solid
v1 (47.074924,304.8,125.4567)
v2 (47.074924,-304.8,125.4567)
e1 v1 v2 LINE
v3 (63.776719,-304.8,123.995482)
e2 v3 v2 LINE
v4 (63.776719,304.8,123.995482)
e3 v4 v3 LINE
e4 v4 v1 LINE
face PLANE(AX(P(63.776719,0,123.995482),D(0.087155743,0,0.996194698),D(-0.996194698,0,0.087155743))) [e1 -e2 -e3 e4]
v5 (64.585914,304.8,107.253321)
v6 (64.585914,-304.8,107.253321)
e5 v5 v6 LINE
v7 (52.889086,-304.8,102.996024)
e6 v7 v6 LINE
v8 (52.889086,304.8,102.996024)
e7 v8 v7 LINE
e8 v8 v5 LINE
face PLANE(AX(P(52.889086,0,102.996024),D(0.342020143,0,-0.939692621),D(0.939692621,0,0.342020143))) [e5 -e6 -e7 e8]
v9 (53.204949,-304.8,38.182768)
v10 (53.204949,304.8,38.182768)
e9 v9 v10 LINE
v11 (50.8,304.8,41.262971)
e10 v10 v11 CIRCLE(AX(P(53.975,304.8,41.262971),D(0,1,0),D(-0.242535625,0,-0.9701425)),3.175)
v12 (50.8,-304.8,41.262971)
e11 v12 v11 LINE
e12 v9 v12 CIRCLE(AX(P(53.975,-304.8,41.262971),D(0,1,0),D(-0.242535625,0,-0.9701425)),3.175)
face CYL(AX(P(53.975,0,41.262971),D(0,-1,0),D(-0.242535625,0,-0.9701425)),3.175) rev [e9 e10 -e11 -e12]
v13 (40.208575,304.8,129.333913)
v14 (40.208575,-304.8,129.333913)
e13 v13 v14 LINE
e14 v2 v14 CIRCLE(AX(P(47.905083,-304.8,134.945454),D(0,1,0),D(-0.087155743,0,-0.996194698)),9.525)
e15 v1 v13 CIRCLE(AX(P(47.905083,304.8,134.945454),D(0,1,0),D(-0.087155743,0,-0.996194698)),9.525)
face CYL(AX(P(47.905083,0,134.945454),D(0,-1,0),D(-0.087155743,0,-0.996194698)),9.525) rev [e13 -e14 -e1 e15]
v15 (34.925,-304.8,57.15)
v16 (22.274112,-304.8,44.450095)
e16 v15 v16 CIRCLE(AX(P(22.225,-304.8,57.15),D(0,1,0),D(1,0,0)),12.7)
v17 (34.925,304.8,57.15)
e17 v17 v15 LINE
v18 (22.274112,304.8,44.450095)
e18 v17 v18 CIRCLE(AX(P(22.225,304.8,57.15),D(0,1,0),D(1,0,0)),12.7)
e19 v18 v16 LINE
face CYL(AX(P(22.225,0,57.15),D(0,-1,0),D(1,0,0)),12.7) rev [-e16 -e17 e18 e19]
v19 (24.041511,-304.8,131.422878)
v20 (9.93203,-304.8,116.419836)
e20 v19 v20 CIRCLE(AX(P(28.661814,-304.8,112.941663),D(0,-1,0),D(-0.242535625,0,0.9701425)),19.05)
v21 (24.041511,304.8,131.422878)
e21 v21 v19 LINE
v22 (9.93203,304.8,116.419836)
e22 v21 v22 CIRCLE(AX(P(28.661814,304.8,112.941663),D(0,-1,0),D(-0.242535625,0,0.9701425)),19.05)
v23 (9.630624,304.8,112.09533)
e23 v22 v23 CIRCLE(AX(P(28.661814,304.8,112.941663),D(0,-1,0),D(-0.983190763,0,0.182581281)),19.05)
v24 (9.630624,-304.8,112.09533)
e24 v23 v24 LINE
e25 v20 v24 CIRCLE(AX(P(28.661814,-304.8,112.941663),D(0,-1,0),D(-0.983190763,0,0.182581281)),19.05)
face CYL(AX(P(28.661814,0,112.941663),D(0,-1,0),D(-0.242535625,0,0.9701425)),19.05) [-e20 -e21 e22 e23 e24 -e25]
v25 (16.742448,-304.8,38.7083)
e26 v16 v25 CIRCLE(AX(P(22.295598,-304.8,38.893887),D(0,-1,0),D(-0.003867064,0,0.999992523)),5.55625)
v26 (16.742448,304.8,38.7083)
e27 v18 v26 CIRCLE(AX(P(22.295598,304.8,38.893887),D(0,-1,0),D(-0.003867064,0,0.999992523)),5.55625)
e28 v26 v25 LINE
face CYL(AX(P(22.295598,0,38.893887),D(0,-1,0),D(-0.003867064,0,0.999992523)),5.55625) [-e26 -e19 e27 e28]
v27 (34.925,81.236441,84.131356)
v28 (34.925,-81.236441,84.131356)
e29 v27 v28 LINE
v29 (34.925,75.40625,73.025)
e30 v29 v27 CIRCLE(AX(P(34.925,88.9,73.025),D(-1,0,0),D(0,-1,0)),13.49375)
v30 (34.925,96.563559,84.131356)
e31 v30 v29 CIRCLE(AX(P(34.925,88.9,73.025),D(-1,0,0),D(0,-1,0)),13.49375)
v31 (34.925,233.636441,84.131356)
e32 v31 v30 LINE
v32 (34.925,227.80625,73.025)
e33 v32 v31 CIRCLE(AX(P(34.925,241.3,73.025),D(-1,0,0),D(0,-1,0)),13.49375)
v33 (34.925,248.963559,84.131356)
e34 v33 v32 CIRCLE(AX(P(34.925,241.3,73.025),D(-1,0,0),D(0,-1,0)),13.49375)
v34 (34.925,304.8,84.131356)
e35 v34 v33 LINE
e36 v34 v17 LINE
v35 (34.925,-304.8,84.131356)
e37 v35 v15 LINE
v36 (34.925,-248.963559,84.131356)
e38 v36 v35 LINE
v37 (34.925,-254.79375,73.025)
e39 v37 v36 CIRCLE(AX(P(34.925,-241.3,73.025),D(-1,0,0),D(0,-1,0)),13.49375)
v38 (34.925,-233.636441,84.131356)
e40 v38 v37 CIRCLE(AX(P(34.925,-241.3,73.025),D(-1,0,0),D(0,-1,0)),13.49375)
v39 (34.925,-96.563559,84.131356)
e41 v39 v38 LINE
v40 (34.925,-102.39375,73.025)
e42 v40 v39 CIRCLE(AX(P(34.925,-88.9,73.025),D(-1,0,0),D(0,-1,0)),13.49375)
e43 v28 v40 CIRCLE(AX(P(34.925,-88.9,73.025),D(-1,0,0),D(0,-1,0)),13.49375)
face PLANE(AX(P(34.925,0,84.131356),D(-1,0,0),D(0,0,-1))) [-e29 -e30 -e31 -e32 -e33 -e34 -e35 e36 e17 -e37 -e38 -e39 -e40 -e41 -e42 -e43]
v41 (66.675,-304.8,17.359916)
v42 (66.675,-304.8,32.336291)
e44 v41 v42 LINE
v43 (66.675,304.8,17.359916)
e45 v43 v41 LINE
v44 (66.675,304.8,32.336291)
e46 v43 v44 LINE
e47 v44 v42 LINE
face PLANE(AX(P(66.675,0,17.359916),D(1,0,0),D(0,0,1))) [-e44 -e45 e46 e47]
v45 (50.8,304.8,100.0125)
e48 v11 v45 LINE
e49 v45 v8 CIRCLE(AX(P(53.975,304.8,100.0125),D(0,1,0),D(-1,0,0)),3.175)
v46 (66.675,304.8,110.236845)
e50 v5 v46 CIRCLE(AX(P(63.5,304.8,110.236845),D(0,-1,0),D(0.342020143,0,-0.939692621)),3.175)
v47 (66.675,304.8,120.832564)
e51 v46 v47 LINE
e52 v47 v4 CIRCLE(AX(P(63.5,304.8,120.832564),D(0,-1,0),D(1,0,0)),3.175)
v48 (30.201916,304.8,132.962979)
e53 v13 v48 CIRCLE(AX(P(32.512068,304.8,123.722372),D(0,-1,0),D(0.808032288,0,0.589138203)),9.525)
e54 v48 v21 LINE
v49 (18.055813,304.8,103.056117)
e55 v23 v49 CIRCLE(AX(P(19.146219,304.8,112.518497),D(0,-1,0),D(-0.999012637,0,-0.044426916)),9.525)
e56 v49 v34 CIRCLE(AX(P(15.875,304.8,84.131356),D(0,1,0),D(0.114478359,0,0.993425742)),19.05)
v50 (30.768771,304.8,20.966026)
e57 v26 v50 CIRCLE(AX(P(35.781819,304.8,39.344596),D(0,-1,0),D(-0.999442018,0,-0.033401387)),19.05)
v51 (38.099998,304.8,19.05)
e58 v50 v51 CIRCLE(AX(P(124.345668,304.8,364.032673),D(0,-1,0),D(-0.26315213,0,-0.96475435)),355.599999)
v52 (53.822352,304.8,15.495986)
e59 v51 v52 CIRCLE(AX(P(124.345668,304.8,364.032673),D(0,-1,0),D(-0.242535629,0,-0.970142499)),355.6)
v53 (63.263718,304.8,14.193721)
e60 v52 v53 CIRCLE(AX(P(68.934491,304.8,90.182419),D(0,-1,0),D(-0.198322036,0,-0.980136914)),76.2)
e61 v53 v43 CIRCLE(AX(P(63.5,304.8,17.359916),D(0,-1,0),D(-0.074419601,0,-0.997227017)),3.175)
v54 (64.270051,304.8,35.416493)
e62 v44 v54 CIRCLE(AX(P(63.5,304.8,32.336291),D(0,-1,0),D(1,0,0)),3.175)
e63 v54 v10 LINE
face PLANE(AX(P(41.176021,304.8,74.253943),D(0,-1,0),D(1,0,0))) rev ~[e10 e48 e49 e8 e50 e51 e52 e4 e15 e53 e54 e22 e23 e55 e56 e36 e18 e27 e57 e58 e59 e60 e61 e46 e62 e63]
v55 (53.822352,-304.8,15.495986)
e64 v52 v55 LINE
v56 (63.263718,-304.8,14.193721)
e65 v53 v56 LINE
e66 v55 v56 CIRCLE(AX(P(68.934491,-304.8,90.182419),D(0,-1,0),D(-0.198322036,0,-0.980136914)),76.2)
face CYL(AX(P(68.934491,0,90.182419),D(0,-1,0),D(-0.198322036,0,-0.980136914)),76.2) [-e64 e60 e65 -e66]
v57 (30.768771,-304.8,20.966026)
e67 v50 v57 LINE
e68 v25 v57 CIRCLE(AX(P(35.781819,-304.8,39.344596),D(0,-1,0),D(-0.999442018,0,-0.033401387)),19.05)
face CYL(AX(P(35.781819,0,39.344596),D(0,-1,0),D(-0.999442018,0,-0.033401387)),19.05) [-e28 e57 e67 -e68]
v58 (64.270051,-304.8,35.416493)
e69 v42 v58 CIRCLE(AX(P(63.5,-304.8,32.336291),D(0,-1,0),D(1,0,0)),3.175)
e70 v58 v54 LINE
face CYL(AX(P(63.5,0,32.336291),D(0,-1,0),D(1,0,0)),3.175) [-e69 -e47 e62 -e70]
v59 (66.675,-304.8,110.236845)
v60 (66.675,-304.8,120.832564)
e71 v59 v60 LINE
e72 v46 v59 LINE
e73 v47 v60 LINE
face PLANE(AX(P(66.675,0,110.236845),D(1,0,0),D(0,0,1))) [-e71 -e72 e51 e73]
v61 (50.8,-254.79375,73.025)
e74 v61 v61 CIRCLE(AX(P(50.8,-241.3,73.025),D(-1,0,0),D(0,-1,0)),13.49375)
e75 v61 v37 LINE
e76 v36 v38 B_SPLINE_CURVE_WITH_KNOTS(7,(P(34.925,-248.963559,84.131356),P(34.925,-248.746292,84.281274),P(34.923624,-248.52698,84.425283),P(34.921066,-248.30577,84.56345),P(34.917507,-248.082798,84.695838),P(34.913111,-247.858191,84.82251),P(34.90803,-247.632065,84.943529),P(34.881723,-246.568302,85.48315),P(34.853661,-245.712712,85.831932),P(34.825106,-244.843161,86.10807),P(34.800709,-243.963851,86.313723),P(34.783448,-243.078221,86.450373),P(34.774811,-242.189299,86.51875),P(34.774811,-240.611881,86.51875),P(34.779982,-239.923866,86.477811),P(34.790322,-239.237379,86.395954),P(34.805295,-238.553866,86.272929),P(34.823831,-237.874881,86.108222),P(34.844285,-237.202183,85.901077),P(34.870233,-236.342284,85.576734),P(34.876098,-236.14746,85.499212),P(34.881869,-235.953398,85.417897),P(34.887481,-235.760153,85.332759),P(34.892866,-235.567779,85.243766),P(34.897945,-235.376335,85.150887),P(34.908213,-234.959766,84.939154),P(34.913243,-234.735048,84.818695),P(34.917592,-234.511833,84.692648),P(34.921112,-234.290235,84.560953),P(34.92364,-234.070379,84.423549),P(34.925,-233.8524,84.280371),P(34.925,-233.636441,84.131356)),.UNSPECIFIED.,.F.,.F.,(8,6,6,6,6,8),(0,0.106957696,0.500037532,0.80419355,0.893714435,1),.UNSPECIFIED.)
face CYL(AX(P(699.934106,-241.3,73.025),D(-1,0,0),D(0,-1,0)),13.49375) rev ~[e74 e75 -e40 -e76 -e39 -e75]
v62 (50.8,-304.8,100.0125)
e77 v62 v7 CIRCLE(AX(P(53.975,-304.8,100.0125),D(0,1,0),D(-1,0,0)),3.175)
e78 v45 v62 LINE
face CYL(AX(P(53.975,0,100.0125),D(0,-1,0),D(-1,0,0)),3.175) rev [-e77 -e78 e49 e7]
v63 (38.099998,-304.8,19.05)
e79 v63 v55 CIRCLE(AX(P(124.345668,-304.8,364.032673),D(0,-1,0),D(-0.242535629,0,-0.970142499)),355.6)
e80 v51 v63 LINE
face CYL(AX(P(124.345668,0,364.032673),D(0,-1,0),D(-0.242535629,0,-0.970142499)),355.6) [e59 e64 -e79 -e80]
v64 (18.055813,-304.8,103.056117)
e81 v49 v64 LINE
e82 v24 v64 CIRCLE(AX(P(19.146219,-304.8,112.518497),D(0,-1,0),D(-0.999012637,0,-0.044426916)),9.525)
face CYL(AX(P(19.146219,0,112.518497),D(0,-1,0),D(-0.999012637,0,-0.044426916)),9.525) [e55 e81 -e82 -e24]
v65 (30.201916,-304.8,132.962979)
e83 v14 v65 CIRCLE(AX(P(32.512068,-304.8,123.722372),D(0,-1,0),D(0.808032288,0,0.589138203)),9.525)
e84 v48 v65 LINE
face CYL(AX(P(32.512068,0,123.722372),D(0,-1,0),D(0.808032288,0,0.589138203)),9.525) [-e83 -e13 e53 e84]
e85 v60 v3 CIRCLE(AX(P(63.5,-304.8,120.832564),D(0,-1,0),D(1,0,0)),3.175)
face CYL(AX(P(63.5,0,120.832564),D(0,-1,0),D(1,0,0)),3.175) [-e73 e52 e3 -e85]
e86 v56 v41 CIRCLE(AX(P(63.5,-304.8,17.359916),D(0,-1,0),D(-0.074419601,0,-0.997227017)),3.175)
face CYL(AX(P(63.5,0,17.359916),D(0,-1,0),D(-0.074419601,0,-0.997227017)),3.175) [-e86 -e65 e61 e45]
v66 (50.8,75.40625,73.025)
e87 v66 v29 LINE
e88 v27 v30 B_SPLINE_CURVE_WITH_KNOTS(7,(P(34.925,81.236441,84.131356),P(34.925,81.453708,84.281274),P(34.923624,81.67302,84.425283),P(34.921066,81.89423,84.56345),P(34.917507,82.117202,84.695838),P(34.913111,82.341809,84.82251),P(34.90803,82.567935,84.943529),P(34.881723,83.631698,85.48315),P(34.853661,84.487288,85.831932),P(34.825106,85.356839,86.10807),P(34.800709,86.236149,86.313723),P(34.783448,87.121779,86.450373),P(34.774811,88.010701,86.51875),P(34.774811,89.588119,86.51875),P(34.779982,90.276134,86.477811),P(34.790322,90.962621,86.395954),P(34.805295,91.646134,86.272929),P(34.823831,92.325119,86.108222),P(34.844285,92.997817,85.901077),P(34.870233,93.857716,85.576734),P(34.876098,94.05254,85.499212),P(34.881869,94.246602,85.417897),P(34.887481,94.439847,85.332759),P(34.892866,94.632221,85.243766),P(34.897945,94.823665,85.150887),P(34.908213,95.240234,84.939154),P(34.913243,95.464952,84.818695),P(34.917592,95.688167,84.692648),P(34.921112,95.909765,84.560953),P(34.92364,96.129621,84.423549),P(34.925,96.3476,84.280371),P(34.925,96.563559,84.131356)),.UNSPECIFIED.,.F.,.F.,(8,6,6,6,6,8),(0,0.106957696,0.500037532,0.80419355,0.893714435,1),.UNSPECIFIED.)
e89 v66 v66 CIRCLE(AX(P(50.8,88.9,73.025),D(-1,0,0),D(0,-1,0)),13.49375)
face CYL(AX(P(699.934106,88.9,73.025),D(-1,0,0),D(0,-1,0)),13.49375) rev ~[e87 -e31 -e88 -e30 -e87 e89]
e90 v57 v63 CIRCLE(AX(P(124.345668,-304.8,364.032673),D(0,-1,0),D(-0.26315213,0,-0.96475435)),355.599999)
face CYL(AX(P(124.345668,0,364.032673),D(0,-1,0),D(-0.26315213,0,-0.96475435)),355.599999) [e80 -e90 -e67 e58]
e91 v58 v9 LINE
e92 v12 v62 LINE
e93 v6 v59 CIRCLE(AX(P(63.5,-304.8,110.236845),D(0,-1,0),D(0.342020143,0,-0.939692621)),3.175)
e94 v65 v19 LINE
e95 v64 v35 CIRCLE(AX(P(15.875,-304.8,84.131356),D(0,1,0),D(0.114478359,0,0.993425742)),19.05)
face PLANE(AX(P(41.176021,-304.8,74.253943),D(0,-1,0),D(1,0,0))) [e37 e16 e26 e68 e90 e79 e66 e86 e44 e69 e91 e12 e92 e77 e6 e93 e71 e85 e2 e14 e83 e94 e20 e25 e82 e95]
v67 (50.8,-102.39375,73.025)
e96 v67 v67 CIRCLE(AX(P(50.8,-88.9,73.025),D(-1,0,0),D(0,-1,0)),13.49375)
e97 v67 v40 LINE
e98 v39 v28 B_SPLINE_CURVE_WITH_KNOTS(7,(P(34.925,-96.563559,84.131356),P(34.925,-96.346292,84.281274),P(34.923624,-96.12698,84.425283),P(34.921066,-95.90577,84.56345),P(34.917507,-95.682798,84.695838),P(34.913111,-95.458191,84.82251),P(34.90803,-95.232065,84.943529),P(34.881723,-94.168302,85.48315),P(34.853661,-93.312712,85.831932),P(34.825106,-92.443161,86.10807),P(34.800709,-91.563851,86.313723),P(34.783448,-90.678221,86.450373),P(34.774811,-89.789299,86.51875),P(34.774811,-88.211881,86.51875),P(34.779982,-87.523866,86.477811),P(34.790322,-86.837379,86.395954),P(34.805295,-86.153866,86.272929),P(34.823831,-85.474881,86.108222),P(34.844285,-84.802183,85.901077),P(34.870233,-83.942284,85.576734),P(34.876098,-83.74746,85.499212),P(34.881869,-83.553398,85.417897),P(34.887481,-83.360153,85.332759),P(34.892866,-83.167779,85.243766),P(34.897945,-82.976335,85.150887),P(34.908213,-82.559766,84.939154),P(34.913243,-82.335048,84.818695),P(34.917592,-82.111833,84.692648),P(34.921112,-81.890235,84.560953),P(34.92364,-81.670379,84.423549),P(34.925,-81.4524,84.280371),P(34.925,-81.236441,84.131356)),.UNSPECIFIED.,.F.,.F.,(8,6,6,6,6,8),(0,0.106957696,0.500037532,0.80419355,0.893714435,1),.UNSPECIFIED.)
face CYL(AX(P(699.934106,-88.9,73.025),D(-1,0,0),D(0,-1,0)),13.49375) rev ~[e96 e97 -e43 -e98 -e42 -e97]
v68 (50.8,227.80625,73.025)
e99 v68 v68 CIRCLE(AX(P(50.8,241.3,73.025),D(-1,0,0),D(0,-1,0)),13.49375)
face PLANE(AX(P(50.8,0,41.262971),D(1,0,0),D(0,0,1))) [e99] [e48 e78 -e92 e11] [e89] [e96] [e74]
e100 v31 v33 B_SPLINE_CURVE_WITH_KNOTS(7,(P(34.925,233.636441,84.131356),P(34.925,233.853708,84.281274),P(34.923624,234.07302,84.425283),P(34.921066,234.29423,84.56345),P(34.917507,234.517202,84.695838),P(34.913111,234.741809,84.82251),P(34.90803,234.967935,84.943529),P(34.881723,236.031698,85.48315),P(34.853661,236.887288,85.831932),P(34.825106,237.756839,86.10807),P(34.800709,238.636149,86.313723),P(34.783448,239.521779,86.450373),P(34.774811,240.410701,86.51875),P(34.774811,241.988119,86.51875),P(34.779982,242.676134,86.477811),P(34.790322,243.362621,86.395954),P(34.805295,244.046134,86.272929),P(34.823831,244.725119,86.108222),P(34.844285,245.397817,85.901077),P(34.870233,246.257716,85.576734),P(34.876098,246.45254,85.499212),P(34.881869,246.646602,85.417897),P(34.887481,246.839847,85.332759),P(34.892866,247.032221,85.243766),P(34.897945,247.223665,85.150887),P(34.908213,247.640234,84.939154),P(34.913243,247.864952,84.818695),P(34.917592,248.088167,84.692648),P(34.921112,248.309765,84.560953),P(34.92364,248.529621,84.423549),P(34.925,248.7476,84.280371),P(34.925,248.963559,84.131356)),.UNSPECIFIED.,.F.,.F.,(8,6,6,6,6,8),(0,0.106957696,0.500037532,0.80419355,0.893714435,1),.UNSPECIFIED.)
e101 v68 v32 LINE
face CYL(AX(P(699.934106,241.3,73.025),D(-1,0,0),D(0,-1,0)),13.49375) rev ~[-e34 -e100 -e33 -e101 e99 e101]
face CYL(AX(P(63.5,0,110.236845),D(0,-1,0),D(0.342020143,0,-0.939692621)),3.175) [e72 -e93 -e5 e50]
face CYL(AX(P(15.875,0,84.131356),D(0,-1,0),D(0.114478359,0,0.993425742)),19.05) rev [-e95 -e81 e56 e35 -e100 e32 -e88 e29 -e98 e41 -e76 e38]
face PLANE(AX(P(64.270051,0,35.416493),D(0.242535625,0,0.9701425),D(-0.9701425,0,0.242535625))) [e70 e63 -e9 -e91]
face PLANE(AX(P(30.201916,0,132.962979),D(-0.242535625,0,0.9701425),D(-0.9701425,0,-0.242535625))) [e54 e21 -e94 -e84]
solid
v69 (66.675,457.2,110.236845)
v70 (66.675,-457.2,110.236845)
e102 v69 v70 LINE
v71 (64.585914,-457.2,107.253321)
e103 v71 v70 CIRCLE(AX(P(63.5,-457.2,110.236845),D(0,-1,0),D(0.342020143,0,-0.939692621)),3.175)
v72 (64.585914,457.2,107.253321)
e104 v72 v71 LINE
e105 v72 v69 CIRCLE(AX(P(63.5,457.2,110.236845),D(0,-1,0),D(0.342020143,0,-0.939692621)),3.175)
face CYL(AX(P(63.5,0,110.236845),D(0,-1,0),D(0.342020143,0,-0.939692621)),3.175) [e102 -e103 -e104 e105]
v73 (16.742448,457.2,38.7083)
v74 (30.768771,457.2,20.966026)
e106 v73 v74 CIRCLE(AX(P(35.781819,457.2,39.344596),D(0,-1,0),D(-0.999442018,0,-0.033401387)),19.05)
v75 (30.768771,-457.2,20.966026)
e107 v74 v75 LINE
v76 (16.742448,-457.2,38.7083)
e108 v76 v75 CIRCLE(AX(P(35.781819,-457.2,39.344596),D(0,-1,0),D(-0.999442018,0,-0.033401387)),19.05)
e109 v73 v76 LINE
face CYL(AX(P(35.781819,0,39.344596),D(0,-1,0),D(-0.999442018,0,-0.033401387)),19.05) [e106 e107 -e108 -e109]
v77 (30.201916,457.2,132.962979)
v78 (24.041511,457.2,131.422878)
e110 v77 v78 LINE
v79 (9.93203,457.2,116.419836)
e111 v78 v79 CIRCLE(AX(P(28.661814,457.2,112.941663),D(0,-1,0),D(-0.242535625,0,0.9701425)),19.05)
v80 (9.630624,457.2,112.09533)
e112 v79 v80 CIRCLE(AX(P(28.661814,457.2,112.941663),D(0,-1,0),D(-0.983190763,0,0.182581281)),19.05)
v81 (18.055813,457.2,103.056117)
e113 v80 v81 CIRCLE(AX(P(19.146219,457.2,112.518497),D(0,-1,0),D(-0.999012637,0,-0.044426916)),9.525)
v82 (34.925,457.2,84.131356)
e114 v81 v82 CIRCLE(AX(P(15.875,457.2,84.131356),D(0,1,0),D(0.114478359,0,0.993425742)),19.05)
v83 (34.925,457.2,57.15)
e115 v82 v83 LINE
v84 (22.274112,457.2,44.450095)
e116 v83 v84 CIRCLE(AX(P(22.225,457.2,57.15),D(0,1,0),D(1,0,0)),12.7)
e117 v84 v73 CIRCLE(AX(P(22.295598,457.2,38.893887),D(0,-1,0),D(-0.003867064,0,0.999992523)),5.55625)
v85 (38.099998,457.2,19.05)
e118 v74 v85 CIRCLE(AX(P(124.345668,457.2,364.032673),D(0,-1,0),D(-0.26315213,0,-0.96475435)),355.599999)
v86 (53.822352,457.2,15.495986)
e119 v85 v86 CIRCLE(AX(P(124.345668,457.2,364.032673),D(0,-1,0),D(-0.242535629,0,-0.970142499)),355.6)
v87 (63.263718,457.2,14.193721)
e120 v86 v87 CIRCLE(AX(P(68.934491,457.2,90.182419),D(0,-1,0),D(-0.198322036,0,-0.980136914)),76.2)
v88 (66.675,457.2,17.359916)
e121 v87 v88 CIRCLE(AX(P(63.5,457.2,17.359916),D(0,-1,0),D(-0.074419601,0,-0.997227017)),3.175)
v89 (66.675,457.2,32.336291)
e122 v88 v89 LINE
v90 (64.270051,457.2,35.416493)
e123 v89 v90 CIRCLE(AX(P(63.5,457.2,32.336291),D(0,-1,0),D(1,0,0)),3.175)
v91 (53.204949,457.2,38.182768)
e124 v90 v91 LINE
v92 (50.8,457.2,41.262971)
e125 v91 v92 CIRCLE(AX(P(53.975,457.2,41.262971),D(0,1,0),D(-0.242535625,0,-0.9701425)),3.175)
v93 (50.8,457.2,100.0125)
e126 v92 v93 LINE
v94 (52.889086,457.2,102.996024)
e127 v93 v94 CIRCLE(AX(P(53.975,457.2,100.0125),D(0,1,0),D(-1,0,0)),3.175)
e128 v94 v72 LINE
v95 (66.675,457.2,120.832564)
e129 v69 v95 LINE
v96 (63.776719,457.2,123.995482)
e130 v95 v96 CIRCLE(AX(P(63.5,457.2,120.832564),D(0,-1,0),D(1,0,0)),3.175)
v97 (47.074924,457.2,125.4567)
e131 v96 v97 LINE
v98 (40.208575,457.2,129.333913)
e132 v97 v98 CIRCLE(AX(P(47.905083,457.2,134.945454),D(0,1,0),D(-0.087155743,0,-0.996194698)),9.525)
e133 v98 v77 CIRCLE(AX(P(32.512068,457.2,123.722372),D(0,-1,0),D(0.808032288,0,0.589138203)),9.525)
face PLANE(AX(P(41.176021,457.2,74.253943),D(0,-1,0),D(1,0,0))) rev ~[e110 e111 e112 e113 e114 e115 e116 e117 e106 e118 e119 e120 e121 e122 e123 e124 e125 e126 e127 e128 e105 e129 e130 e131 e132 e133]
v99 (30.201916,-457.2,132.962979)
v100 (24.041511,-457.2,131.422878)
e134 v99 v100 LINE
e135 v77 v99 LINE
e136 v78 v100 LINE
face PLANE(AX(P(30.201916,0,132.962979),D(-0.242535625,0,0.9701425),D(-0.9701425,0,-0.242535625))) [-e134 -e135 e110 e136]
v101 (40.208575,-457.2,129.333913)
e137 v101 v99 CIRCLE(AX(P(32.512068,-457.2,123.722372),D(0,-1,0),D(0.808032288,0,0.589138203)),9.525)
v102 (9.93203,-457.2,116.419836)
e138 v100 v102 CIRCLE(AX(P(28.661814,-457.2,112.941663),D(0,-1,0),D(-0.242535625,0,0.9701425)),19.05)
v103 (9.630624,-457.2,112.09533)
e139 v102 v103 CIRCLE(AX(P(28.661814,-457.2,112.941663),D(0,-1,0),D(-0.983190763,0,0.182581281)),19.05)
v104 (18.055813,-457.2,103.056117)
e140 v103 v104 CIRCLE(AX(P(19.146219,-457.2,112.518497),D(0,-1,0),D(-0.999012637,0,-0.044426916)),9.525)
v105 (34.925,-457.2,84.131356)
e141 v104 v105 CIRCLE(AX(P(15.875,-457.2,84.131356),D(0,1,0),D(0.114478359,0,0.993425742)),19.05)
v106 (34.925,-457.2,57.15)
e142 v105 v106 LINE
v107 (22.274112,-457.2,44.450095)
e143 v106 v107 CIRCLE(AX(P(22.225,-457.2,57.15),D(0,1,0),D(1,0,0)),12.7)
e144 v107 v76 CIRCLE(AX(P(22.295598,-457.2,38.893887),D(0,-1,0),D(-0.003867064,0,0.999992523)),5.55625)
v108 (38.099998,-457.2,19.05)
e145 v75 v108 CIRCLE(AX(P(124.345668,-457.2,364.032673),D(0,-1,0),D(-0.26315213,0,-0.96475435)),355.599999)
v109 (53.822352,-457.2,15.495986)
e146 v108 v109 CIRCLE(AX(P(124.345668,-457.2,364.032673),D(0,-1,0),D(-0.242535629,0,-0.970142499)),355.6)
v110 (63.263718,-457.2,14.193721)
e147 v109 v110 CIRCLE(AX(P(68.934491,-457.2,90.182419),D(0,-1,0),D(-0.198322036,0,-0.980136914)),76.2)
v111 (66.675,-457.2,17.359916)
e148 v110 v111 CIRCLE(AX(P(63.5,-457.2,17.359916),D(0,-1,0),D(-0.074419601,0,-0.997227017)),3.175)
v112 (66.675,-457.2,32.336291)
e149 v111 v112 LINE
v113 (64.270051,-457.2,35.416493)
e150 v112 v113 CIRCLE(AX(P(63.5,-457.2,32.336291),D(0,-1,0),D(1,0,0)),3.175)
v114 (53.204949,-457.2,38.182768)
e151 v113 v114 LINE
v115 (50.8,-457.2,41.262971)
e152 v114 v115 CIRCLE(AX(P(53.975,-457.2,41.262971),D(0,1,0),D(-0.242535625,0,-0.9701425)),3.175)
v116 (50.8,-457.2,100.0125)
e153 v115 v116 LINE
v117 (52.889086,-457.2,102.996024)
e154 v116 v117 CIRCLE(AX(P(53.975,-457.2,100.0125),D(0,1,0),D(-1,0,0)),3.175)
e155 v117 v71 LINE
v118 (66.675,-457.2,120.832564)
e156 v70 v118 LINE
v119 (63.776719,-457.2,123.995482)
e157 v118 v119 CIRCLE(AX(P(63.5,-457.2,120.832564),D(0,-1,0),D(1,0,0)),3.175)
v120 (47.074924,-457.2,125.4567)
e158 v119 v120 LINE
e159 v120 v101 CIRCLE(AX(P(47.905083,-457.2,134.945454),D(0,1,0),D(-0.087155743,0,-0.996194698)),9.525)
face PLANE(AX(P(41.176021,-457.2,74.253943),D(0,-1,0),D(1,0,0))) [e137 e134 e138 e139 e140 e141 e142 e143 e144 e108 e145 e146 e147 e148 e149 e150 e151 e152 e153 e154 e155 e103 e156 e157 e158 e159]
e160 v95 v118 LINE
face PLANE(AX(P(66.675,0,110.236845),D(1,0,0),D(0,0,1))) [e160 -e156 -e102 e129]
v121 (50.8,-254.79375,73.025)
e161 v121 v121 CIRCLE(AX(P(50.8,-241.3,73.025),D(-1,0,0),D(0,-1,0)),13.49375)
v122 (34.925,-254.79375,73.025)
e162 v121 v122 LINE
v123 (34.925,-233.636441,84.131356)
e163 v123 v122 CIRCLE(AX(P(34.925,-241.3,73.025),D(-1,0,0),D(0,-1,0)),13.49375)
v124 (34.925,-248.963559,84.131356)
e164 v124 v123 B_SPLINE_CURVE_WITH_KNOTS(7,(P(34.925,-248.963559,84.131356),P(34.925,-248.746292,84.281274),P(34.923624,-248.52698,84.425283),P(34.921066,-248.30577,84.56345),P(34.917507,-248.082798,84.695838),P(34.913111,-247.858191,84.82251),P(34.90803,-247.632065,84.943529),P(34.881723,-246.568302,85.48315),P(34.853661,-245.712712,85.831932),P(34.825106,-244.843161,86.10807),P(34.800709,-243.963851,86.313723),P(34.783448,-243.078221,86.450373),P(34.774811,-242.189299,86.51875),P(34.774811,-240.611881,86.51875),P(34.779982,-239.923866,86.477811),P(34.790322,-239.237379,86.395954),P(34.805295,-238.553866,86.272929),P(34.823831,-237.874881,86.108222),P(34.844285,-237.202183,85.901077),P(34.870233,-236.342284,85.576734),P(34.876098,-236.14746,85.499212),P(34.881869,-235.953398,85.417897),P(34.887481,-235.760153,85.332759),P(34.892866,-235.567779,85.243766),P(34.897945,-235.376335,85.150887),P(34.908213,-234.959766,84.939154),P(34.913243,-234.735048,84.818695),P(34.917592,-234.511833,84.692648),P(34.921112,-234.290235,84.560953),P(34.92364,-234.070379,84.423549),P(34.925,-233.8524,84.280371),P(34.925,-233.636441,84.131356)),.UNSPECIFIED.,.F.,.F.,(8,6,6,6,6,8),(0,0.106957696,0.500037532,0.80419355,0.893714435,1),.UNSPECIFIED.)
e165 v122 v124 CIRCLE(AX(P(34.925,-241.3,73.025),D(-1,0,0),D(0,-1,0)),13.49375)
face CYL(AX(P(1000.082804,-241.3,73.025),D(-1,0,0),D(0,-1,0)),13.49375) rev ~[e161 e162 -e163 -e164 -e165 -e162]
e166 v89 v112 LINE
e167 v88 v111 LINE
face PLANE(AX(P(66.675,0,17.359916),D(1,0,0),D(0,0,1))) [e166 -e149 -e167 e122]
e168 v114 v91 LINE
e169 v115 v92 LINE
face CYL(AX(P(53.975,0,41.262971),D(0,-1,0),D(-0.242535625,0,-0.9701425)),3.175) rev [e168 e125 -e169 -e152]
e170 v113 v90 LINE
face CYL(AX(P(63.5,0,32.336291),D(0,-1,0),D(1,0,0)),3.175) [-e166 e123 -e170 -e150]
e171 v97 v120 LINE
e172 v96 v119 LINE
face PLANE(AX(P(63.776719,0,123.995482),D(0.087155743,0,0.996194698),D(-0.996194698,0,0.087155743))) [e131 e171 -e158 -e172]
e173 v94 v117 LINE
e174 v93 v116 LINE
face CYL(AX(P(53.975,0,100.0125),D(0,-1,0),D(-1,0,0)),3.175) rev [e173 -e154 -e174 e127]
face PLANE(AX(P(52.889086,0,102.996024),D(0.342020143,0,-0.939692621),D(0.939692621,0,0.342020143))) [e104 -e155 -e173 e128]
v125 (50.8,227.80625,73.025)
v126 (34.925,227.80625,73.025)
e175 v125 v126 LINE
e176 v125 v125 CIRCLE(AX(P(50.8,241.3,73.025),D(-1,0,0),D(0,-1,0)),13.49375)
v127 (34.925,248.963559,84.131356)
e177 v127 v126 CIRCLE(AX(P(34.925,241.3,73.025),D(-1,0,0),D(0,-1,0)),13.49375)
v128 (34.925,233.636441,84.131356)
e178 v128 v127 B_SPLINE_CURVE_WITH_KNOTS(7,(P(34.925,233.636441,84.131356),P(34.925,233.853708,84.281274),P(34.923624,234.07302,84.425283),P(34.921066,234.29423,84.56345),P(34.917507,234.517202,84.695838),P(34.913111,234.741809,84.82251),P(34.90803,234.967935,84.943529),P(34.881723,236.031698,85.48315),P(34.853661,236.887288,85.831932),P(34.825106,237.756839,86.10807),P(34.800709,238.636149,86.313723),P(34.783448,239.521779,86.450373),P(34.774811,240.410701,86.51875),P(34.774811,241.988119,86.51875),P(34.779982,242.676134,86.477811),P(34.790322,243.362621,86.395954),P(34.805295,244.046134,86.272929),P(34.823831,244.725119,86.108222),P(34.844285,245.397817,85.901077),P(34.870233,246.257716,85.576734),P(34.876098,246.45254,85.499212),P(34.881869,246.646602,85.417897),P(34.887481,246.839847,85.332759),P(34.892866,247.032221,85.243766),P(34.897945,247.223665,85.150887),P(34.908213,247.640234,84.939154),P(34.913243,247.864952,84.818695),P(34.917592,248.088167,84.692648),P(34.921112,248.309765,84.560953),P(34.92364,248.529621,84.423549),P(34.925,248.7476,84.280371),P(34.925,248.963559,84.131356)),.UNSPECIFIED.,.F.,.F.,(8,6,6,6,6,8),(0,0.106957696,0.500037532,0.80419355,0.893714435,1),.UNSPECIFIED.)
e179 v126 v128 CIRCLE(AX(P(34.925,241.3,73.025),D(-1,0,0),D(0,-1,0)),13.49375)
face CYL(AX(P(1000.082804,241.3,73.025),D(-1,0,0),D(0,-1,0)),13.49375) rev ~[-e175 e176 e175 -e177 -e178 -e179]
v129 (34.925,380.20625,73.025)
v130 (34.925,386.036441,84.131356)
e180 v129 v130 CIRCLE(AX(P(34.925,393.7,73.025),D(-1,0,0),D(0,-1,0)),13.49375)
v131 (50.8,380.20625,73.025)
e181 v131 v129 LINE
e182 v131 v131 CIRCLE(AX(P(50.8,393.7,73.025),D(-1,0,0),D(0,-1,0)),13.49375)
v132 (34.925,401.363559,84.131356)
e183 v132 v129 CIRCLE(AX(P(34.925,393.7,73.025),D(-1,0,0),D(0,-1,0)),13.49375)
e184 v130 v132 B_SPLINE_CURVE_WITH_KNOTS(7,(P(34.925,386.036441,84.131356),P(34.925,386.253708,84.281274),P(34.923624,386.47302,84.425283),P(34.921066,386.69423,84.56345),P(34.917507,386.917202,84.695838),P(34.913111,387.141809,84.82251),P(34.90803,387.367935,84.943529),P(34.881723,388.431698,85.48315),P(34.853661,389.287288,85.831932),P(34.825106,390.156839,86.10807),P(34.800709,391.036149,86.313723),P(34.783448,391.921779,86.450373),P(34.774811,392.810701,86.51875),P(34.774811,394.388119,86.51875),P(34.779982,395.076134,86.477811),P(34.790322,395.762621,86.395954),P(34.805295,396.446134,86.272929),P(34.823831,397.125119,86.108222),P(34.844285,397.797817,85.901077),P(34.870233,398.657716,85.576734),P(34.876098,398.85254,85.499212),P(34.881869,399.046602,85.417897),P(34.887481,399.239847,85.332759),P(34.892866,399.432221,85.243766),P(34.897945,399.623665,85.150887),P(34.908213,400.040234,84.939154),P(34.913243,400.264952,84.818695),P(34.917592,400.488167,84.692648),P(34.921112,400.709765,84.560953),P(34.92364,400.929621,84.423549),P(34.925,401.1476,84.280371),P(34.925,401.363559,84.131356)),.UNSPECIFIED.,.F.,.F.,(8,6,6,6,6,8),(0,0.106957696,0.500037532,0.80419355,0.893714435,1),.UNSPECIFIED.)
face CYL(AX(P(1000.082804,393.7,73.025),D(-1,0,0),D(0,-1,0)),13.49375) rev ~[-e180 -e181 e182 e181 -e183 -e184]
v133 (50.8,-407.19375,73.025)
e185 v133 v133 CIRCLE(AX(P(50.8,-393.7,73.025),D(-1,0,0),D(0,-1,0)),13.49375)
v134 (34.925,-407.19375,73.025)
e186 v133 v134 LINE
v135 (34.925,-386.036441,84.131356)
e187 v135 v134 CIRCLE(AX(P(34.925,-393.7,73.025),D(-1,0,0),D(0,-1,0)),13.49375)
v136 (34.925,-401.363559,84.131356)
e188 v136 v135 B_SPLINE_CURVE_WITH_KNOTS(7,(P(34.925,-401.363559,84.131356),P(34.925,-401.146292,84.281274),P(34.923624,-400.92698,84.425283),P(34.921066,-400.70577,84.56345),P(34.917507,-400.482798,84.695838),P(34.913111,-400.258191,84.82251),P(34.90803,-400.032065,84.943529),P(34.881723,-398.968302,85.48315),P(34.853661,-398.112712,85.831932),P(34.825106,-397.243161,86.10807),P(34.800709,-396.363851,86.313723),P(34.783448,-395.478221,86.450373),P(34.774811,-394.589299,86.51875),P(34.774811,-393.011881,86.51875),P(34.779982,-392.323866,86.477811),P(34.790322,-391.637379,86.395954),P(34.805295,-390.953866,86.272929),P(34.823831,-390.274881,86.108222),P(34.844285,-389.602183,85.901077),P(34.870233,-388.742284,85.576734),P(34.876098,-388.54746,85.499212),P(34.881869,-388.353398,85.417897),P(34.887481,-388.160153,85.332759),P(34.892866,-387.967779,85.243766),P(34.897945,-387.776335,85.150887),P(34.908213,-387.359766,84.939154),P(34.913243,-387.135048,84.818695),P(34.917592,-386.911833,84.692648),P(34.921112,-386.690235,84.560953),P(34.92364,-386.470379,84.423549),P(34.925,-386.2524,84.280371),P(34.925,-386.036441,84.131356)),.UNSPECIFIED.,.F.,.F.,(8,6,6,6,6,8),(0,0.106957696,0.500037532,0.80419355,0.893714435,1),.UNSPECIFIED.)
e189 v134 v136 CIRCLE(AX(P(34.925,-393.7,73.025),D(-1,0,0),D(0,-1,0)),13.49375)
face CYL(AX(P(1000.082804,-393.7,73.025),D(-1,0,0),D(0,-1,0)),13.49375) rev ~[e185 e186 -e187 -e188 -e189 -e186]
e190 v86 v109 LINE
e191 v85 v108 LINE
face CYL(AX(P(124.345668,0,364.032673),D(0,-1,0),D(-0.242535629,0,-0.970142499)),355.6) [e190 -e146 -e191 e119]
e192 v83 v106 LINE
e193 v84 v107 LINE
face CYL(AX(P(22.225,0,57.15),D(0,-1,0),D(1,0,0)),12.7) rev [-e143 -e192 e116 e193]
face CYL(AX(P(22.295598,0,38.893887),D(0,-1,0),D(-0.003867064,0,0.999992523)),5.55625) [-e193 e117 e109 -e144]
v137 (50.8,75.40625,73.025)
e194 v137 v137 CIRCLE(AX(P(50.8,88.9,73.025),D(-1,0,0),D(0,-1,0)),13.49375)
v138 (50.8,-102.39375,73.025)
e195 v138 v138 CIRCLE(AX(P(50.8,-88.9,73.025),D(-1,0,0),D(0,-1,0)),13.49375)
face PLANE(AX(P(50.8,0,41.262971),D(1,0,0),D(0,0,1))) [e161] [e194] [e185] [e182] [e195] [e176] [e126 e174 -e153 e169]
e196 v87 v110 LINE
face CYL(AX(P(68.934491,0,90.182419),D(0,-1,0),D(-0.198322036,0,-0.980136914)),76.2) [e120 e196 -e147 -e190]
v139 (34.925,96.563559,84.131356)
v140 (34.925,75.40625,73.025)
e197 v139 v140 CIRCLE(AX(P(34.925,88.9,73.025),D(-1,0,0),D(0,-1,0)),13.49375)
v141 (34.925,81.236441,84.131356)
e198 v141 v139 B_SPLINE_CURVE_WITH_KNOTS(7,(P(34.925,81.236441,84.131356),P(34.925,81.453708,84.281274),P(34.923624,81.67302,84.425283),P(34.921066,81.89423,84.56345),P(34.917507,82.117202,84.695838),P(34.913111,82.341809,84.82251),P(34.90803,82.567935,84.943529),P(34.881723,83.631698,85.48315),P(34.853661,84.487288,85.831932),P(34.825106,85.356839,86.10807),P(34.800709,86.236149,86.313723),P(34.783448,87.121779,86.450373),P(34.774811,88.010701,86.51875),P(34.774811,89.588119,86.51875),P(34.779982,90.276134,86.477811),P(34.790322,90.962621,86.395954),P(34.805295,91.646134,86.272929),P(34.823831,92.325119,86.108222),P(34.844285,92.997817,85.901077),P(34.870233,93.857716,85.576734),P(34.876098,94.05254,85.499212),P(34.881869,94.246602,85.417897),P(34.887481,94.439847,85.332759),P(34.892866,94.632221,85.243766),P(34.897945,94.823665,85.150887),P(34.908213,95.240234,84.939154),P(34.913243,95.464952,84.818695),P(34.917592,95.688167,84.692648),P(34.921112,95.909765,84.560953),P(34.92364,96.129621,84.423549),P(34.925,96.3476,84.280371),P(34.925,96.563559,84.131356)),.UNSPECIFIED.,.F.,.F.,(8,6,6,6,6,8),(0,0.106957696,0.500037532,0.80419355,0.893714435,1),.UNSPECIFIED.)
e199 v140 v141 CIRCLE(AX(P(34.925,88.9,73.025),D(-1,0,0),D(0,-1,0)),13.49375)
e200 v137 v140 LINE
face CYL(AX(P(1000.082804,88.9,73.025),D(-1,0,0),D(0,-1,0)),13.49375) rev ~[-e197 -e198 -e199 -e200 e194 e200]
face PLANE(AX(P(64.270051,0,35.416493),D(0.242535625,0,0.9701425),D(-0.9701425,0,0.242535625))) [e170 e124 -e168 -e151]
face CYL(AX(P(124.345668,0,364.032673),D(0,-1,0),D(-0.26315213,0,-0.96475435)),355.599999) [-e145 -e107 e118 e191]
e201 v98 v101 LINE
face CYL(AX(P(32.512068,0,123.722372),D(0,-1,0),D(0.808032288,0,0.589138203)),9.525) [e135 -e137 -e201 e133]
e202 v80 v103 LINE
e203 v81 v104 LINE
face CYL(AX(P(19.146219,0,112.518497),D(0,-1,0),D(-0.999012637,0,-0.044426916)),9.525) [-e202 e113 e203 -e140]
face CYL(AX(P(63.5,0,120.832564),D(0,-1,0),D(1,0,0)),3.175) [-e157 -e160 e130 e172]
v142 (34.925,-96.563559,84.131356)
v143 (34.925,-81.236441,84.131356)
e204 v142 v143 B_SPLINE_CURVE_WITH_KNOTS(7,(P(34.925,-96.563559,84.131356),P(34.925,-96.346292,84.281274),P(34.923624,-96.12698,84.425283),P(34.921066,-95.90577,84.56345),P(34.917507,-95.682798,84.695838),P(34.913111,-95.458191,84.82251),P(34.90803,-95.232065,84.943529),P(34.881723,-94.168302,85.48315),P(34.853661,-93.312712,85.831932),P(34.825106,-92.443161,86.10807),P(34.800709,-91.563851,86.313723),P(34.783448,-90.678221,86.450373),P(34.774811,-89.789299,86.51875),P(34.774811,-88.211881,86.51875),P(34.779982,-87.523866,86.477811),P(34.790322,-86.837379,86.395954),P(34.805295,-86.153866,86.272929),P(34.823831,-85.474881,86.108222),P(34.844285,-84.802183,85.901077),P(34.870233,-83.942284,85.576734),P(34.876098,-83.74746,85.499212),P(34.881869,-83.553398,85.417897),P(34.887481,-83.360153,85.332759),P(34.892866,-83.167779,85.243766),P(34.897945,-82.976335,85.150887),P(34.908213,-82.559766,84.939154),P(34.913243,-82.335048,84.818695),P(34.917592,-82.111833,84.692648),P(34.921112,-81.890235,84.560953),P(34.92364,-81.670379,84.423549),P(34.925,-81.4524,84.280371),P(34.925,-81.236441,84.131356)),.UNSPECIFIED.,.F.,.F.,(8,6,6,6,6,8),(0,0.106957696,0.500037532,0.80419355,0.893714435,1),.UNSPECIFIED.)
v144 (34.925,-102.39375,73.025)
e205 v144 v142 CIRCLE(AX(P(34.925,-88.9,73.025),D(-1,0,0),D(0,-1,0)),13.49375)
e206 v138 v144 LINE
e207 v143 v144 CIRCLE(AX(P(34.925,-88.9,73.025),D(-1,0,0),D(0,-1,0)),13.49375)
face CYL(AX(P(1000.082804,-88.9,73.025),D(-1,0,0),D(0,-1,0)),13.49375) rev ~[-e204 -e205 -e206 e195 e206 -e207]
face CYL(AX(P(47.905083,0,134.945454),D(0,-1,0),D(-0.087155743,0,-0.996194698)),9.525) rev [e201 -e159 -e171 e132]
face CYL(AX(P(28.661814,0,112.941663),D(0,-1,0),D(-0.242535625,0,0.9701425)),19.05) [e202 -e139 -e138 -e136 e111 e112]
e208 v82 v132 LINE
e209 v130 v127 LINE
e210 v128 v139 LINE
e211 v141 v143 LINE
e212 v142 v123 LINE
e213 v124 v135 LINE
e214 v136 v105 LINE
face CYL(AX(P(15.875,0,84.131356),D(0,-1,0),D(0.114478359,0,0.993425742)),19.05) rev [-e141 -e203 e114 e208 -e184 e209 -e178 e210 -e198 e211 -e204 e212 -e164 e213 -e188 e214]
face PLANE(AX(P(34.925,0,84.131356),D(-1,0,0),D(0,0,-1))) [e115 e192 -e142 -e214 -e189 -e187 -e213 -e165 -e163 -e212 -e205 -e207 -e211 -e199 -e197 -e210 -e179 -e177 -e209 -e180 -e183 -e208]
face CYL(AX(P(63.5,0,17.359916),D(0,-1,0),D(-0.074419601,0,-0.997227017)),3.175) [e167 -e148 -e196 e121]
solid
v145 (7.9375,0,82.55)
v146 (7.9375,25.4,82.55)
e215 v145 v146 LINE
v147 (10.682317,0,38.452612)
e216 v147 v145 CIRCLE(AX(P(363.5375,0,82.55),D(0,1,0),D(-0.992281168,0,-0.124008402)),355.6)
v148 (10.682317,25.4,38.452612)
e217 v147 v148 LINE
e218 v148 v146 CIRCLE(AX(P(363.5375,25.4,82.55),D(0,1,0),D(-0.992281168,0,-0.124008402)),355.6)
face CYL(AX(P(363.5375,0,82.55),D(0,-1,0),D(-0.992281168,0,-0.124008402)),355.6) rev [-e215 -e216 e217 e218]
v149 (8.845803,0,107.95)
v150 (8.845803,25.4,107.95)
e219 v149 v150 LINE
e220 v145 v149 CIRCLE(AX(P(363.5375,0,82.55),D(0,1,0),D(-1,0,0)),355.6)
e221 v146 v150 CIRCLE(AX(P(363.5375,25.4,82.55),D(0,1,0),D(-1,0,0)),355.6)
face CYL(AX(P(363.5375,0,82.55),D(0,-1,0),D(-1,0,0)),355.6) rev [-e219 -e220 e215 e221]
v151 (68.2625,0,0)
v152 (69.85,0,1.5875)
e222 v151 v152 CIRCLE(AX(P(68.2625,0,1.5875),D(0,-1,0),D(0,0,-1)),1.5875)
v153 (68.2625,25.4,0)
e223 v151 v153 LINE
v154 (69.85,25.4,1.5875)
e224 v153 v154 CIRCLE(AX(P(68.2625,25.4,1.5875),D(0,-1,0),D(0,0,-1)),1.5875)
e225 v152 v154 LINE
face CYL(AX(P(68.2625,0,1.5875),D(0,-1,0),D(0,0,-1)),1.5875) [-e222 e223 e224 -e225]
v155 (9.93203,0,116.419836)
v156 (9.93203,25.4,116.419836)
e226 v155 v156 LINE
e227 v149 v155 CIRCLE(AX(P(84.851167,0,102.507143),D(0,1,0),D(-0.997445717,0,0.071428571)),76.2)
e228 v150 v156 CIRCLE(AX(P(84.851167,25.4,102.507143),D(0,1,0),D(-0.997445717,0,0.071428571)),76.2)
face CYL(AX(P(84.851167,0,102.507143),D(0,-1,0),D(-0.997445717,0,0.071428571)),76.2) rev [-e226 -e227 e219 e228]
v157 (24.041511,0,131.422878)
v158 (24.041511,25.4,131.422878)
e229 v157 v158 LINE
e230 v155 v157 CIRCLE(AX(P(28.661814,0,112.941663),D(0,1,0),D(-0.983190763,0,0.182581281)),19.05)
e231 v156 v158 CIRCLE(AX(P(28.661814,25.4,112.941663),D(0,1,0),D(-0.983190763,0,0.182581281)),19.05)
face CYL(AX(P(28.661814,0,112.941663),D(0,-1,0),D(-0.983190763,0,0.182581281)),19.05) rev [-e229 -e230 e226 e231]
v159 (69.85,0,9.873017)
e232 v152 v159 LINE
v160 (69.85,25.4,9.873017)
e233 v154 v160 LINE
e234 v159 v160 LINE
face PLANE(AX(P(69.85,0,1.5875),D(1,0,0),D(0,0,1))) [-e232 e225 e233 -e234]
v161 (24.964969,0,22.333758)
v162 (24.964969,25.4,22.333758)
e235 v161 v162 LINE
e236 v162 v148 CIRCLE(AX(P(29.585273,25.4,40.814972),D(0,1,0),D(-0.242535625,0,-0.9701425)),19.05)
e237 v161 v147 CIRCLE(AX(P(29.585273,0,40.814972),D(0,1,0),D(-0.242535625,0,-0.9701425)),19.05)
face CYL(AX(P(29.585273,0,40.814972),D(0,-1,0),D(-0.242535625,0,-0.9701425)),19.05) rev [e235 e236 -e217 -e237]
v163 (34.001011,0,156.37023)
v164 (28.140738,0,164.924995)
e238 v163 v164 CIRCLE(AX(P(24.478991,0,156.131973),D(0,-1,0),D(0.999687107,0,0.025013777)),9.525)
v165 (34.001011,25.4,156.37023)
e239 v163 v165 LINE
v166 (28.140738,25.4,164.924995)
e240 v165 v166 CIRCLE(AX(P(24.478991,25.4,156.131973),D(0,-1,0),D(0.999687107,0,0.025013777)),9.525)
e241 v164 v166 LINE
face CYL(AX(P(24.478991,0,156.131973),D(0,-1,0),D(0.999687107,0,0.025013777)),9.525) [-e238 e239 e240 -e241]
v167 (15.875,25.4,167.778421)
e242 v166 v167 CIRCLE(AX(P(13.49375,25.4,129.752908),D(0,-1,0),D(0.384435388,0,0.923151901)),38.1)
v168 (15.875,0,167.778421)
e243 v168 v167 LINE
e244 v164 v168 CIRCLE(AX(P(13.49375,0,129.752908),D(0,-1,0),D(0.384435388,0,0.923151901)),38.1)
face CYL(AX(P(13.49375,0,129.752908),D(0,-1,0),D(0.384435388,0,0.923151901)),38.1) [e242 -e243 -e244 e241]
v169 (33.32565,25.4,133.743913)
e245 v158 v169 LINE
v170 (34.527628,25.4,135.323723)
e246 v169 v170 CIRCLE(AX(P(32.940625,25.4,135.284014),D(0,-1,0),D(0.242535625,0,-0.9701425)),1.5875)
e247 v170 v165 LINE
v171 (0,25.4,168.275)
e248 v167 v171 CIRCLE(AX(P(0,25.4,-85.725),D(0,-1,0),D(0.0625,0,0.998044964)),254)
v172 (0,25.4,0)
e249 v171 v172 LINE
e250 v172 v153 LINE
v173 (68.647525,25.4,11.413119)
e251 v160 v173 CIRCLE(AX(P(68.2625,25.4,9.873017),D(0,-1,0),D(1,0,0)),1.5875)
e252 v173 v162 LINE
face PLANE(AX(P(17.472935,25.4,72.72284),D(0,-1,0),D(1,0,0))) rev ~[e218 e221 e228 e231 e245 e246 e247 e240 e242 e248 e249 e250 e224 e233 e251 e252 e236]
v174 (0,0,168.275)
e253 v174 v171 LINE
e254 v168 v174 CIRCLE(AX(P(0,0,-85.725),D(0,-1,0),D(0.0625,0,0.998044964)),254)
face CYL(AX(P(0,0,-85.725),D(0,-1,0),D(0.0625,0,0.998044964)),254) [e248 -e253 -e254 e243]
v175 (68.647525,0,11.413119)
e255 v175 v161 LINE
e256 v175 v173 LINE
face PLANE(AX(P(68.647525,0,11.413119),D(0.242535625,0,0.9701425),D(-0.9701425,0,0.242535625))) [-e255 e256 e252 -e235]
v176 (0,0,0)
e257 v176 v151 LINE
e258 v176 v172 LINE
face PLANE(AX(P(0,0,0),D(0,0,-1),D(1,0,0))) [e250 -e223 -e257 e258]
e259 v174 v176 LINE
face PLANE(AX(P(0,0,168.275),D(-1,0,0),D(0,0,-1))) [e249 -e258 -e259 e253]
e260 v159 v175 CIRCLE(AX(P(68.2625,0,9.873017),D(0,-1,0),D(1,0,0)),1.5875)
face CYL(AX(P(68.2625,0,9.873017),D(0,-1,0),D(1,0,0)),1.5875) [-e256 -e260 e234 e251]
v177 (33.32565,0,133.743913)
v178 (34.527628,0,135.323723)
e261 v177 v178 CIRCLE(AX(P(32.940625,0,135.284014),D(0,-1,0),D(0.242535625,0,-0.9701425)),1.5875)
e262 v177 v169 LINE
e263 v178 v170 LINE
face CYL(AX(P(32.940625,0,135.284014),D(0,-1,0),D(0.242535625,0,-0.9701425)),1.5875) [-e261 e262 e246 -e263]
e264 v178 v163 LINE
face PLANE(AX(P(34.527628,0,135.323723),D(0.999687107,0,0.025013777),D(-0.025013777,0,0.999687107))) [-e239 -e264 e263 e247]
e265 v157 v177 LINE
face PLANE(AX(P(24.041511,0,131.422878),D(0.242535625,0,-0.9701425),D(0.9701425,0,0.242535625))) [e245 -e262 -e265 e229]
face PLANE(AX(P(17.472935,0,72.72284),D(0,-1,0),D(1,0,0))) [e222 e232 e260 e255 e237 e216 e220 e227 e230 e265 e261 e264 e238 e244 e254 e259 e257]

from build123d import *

# Parameters (mm, degrees)
F1_DEPTH = 25.4
F5_DEPTH = 304.8
F6_D     = 26.9875
F7_DEPTH = 457.2
F8_D     = 26.9875


with BuildPart() as f1:
    # F0 (on Front) → F1 (new body)
    with BuildSketch(Plane.XZ):
        with BuildLine():
            Line((0, 168.275), (0, 0))
            Line((0, 0), (68.2625, 0))
            ThreePointArc((68.2625, 0), (69.3850320151, 0.4649679849), (69.85, 1.5875))
            Line((69.85, 1.5875), (69.85, 9.8730174548))
            ThreePointArc((69.85, 9.8730174548), (69.5137761329, 10.8499843373), (68.6475253047, 11.4131186738))
            Line((68.6475253047, 11.4131186738), (24.9649692751, 22.3337576812))
            ThreePointArc((24.9649692751, 22.3337576812), (15.3272819336, 28.1812003985), (10.6823166829, 38.452612251))
            ThreePointArc((10.6823166829, 38.452612251), (8.6243675383, 60.4586350302), (7.9375, 82.55))
            ThreePointArc((7.9375, 82.55), (8.1646482703, 95.2581176236), (8.8458028883, 107.95))
            ThreePointArc((8.8458028883, 107.95), (9.2701789256, 112.2001459495), (9.9320304407, 116.4198364814))
            ThreePointArc((9.9320304407, 116.4198364814), (14.7845142922, 125.9924500169), (24.0415108124, 131.4228777031))
            Line((24.0415108124, 131.4228777031), (33.3256503047, 133.7439125762))
            ThreePointArc((33.3256503047, 133.7439125762), (34.2040230216, 134.3227741326), (34.5276282816, 135.3237231657))
            Line((34.5276282816, 135.3237231657), (34.0010108957, 156.3702295088))
            ThreePointArc((34.0010108957, 156.3702295088), (32.3370399621, 161.5149738191), (28.1407382747, 164.9249951439))
            ThreePointArc((28.1407382747, 164.9249951439), (22.1265788659, 166.8619937368), (15.875, 167.7784208349))
            ThreePointArc((15.875, 167.7784208349), (7.9413823713, 168.1508248554), (0, 168.275))
        make_face()
    extrude(amount=-F1_DEPTH)


with BuildPart() as f5:
    # F2 (on Front) → F5 (new body, symmetric)
    with BuildSketch(Plane.XZ):
        with BuildLine():
            Line((50.8, 41.2629707227), (50.8, 100.0125))
            ThreePointArc((50.8, 100.0125), (51.3741922594, 101.8336051854), (52.8890860449, 102.996024071))
            Line((52.8890860449, 102.996024071), (64.5859139551, 107.2533212656))
            ThreePointArc((64.5859139551, 107.2533212656), (66.1008077406, 108.4157401512), (66.675, 110.2368453366))
            Line((66.675, 110.2368453366), (66.675, 120.8325639578))
            ThreePointArc((66.675, 120.8325639578), (65.8408555444, 122.9775628669), (63.7767194832, 123.9954821242))
            Line((63.7767194832, 123.9954821242), (47.0749241448, 125.4566998768))
            ThreePointArc((47.0749241448, 125.4566998768), (43.221686006, 126.6513949723), (40.2085750556, 129.3339129922))
            ThreePointArc((40.2085750556, 129.3339129922), (35.7594875451, 132.6766939253), (30.2019156883, 132.9629789221))
            Line((30.2019156883, 132.9629789221), (24.0415108124, 131.4228777031))
            ThreePointArc((24.0415108124, 131.4228777031), (14.7845142922, 125.9924500169), (9.9320304407, 116.4198364814))
            ThreePointArc((9.9320304407, 116.4198364814), (9.6579163907, 114.2661848069), (9.6306237319, 112.0953303303))
            ThreePointArc((9.6306237319, 112.0953303303), (12.1785319064, 106.0241175821), (18.0558127337, 103.0561165078))
            ThreePointArc((18.0558127337, 103.0561165078), (30.0955306261, 96.8072785186), (34.925, 84.1313561178))
            Line((34.925, 84.1313561178), (34.925, 57.15))
            ThreePointArc((34.925, 57.15), (31.2226029793, 48.1871243104), (22.2741117123, 44.4500949594))
            ThreePointArc((22.2741117123, 44.4500949594), (18.2941990707, 42.7488469424), (16.7424483739, 38.7083000457))
            ThreePointArc((16.7424483739, 38.7083000457), (20.8376968822, 27.5303796318), (30.7687707347, 20.9660261024))
            ThreePointArc((30.7687707347, 20.9660261024), (34.4292808671, 19.9884850791), (38.0999984233, 19.0500003942))
            ThreePointArc((38.0999984233, 19.0500003942), (45.941035202, 17.1838969048), (53.8223522455, 15.4959864634))
            ThreePointArc((53.8223522455, 15.4959864634), (58.5226548629, 14.6970984785), (63.2637177656, 14.1937206277))
            ThreePointArc((63.2637177656, 14.1937206277), (65.6599107511, 15.0328129387), (66.675, 17.3599164059))
            Line((66.675, 17.3599164059), (66.675, 32.336290542))
            ThreePointArc((66.675, 32.336290542), (66.0025522657, 34.2902243069), (64.2700506095, 35.41649298))
            Line((64.2700506095, 35.41649298), (53.2049493905, 38.1827682847))
            ThreePointArc((53.2049493905, 38.1827682847), (51.4724477343, 39.3090369578), (50.8, 41.2629707227))
        make_face()
    extrude(amount=F5_DEPTH, both=True)

    # F6 (through all)
    with Locations(Plane.YZ.offset(76.2)):
        with Locations((-241.3, 73.025), (-88.9, 73.025), (88.9, 73.025), (241.3, 73.025)):
            Hole(F6_D / 2)


with BuildPart() as f7:
    # F2 (on Front) → F7 (new body, symmetric)
    with BuildSketch(Plane.XZ):
        with BuildLine():
            Line((50.8, 41.2629707227), (50.8, 100.0125))
            ThreePointArc((50.8, 100.0125), (51.3741922594, 101.8336051854), (52.8890860449, 102.996024071))
            Line((52.8890860449, 102.996024071), (64.5859139551, 107.2533212656))
            ThreePointArc((64.5859139551, 107.2533212656), (66.1008077406, 108.4157401512), (66.675, 110.2368453366))
            Line((66.675, 110.2368453366), (66.675, 120.8325639578))
            ThreePointArc((66.675, 120.8325639578), (65.8408555444, 122.9775628669), (63.7767194832, 123.9954821242))
            Line((63.7767194832, 123.9954821242), (47.0749241448, 125.4566998768))
            ThreePointArc((47.0749241448, 125.4566998768), (43.221686006, 126.6513949723), (40.2085750556, 129.3339129922))
            ThreePointArc((40.2085750556, 129.3339129922), (35.7594875451, 132.6766939253), (30.2019156883, 132.9629789221))
            Line((30.2019156883, 132.9629789221), (24.0415108124, 131.4228777031))
            ThreePointArc((24.0415108124, 131.4228777031), (14.7845142922, 125.9924500169), (9.9320304407, 116.4198364814))
            ThreePointArc((9.9320304407, 116.4198364814), (9.6579163907, 114.2661848069), (9.6306237319, 112.0953303303))
            ThreePointArc((9.6306237319, 112.0953303303), (12.1785319064, 106.0241175821), (18.0558127337, 103.0561165078))
            ThreePointArc((18.0558127337, 103.0561165078), (30.0955306261, 96.8072785186), (34.925, 84.1313561178))
            Line((34.925, 84.1313561178), (34.925, 57.15))
            ThreePointArc((34.925, 57.15), (31.2226029793, 48.1871243104), (22.2741117123, 44.4500949594))
            ThreePointArc((22.2741117123, 44.4500949594), (18.2941990707, 42.7488469424), (16.7424483739, 38.7083000457))
            ThreePointArc((16.7424483739, 38.7083000457), (20.8376968822, 27.5303796318), (30.7687707347, 20.9660261024))
            ThreePointArc((30.7687707347, 20.9660261024), (34.4292808671, 19.9884850791), (38.0999984233, 19.0500003942))
            ThreePointArc((38.0999984233, 19.0500003942), (45.941035202, 17.1838969048), (53.8223522455, 15.4959864634))
            ThreePointArc((53.8223522455, 15.4959864634), (58.5226548629, 14.6970984785), (63.2637177656, 14.1937206277))
            ThreePointArc((63.2637177656, 14.1937206277), (65.6599107511, 15.0328129387), (66.675, 17.3599164059))
            Line((66.675, 17.3599164059), (66.675, 32.336290542))
            ThreePointArc((66.675, 32.336290542), (66.0025522657, 34.2902243069), (64.2700506095, 35.41649298))
            Line((64.2700506095, 35.41649298), (53.2049493905, 38.1827682847))
            ThreePointArc((53.2049493905, 38.1827682847), (51.4724477343, 39.3090369578), (50.8, 41.2629707227))
        make_face()
    extrude(amount=F7_DEPTH, both=True)

    # F8 (through all)
    with Locations(Plane.YZ.offset(76.2)):
        with Locations((-393.7, 73.025), (-241.3, 73.025), (-88.9, 73.025), (88.9, 73.025), (241.3, 73.025), (393.7, 73.025)):
            Hole(F8_D / 2)


solid = Compound([f1.part, f5.part, f7.part])
